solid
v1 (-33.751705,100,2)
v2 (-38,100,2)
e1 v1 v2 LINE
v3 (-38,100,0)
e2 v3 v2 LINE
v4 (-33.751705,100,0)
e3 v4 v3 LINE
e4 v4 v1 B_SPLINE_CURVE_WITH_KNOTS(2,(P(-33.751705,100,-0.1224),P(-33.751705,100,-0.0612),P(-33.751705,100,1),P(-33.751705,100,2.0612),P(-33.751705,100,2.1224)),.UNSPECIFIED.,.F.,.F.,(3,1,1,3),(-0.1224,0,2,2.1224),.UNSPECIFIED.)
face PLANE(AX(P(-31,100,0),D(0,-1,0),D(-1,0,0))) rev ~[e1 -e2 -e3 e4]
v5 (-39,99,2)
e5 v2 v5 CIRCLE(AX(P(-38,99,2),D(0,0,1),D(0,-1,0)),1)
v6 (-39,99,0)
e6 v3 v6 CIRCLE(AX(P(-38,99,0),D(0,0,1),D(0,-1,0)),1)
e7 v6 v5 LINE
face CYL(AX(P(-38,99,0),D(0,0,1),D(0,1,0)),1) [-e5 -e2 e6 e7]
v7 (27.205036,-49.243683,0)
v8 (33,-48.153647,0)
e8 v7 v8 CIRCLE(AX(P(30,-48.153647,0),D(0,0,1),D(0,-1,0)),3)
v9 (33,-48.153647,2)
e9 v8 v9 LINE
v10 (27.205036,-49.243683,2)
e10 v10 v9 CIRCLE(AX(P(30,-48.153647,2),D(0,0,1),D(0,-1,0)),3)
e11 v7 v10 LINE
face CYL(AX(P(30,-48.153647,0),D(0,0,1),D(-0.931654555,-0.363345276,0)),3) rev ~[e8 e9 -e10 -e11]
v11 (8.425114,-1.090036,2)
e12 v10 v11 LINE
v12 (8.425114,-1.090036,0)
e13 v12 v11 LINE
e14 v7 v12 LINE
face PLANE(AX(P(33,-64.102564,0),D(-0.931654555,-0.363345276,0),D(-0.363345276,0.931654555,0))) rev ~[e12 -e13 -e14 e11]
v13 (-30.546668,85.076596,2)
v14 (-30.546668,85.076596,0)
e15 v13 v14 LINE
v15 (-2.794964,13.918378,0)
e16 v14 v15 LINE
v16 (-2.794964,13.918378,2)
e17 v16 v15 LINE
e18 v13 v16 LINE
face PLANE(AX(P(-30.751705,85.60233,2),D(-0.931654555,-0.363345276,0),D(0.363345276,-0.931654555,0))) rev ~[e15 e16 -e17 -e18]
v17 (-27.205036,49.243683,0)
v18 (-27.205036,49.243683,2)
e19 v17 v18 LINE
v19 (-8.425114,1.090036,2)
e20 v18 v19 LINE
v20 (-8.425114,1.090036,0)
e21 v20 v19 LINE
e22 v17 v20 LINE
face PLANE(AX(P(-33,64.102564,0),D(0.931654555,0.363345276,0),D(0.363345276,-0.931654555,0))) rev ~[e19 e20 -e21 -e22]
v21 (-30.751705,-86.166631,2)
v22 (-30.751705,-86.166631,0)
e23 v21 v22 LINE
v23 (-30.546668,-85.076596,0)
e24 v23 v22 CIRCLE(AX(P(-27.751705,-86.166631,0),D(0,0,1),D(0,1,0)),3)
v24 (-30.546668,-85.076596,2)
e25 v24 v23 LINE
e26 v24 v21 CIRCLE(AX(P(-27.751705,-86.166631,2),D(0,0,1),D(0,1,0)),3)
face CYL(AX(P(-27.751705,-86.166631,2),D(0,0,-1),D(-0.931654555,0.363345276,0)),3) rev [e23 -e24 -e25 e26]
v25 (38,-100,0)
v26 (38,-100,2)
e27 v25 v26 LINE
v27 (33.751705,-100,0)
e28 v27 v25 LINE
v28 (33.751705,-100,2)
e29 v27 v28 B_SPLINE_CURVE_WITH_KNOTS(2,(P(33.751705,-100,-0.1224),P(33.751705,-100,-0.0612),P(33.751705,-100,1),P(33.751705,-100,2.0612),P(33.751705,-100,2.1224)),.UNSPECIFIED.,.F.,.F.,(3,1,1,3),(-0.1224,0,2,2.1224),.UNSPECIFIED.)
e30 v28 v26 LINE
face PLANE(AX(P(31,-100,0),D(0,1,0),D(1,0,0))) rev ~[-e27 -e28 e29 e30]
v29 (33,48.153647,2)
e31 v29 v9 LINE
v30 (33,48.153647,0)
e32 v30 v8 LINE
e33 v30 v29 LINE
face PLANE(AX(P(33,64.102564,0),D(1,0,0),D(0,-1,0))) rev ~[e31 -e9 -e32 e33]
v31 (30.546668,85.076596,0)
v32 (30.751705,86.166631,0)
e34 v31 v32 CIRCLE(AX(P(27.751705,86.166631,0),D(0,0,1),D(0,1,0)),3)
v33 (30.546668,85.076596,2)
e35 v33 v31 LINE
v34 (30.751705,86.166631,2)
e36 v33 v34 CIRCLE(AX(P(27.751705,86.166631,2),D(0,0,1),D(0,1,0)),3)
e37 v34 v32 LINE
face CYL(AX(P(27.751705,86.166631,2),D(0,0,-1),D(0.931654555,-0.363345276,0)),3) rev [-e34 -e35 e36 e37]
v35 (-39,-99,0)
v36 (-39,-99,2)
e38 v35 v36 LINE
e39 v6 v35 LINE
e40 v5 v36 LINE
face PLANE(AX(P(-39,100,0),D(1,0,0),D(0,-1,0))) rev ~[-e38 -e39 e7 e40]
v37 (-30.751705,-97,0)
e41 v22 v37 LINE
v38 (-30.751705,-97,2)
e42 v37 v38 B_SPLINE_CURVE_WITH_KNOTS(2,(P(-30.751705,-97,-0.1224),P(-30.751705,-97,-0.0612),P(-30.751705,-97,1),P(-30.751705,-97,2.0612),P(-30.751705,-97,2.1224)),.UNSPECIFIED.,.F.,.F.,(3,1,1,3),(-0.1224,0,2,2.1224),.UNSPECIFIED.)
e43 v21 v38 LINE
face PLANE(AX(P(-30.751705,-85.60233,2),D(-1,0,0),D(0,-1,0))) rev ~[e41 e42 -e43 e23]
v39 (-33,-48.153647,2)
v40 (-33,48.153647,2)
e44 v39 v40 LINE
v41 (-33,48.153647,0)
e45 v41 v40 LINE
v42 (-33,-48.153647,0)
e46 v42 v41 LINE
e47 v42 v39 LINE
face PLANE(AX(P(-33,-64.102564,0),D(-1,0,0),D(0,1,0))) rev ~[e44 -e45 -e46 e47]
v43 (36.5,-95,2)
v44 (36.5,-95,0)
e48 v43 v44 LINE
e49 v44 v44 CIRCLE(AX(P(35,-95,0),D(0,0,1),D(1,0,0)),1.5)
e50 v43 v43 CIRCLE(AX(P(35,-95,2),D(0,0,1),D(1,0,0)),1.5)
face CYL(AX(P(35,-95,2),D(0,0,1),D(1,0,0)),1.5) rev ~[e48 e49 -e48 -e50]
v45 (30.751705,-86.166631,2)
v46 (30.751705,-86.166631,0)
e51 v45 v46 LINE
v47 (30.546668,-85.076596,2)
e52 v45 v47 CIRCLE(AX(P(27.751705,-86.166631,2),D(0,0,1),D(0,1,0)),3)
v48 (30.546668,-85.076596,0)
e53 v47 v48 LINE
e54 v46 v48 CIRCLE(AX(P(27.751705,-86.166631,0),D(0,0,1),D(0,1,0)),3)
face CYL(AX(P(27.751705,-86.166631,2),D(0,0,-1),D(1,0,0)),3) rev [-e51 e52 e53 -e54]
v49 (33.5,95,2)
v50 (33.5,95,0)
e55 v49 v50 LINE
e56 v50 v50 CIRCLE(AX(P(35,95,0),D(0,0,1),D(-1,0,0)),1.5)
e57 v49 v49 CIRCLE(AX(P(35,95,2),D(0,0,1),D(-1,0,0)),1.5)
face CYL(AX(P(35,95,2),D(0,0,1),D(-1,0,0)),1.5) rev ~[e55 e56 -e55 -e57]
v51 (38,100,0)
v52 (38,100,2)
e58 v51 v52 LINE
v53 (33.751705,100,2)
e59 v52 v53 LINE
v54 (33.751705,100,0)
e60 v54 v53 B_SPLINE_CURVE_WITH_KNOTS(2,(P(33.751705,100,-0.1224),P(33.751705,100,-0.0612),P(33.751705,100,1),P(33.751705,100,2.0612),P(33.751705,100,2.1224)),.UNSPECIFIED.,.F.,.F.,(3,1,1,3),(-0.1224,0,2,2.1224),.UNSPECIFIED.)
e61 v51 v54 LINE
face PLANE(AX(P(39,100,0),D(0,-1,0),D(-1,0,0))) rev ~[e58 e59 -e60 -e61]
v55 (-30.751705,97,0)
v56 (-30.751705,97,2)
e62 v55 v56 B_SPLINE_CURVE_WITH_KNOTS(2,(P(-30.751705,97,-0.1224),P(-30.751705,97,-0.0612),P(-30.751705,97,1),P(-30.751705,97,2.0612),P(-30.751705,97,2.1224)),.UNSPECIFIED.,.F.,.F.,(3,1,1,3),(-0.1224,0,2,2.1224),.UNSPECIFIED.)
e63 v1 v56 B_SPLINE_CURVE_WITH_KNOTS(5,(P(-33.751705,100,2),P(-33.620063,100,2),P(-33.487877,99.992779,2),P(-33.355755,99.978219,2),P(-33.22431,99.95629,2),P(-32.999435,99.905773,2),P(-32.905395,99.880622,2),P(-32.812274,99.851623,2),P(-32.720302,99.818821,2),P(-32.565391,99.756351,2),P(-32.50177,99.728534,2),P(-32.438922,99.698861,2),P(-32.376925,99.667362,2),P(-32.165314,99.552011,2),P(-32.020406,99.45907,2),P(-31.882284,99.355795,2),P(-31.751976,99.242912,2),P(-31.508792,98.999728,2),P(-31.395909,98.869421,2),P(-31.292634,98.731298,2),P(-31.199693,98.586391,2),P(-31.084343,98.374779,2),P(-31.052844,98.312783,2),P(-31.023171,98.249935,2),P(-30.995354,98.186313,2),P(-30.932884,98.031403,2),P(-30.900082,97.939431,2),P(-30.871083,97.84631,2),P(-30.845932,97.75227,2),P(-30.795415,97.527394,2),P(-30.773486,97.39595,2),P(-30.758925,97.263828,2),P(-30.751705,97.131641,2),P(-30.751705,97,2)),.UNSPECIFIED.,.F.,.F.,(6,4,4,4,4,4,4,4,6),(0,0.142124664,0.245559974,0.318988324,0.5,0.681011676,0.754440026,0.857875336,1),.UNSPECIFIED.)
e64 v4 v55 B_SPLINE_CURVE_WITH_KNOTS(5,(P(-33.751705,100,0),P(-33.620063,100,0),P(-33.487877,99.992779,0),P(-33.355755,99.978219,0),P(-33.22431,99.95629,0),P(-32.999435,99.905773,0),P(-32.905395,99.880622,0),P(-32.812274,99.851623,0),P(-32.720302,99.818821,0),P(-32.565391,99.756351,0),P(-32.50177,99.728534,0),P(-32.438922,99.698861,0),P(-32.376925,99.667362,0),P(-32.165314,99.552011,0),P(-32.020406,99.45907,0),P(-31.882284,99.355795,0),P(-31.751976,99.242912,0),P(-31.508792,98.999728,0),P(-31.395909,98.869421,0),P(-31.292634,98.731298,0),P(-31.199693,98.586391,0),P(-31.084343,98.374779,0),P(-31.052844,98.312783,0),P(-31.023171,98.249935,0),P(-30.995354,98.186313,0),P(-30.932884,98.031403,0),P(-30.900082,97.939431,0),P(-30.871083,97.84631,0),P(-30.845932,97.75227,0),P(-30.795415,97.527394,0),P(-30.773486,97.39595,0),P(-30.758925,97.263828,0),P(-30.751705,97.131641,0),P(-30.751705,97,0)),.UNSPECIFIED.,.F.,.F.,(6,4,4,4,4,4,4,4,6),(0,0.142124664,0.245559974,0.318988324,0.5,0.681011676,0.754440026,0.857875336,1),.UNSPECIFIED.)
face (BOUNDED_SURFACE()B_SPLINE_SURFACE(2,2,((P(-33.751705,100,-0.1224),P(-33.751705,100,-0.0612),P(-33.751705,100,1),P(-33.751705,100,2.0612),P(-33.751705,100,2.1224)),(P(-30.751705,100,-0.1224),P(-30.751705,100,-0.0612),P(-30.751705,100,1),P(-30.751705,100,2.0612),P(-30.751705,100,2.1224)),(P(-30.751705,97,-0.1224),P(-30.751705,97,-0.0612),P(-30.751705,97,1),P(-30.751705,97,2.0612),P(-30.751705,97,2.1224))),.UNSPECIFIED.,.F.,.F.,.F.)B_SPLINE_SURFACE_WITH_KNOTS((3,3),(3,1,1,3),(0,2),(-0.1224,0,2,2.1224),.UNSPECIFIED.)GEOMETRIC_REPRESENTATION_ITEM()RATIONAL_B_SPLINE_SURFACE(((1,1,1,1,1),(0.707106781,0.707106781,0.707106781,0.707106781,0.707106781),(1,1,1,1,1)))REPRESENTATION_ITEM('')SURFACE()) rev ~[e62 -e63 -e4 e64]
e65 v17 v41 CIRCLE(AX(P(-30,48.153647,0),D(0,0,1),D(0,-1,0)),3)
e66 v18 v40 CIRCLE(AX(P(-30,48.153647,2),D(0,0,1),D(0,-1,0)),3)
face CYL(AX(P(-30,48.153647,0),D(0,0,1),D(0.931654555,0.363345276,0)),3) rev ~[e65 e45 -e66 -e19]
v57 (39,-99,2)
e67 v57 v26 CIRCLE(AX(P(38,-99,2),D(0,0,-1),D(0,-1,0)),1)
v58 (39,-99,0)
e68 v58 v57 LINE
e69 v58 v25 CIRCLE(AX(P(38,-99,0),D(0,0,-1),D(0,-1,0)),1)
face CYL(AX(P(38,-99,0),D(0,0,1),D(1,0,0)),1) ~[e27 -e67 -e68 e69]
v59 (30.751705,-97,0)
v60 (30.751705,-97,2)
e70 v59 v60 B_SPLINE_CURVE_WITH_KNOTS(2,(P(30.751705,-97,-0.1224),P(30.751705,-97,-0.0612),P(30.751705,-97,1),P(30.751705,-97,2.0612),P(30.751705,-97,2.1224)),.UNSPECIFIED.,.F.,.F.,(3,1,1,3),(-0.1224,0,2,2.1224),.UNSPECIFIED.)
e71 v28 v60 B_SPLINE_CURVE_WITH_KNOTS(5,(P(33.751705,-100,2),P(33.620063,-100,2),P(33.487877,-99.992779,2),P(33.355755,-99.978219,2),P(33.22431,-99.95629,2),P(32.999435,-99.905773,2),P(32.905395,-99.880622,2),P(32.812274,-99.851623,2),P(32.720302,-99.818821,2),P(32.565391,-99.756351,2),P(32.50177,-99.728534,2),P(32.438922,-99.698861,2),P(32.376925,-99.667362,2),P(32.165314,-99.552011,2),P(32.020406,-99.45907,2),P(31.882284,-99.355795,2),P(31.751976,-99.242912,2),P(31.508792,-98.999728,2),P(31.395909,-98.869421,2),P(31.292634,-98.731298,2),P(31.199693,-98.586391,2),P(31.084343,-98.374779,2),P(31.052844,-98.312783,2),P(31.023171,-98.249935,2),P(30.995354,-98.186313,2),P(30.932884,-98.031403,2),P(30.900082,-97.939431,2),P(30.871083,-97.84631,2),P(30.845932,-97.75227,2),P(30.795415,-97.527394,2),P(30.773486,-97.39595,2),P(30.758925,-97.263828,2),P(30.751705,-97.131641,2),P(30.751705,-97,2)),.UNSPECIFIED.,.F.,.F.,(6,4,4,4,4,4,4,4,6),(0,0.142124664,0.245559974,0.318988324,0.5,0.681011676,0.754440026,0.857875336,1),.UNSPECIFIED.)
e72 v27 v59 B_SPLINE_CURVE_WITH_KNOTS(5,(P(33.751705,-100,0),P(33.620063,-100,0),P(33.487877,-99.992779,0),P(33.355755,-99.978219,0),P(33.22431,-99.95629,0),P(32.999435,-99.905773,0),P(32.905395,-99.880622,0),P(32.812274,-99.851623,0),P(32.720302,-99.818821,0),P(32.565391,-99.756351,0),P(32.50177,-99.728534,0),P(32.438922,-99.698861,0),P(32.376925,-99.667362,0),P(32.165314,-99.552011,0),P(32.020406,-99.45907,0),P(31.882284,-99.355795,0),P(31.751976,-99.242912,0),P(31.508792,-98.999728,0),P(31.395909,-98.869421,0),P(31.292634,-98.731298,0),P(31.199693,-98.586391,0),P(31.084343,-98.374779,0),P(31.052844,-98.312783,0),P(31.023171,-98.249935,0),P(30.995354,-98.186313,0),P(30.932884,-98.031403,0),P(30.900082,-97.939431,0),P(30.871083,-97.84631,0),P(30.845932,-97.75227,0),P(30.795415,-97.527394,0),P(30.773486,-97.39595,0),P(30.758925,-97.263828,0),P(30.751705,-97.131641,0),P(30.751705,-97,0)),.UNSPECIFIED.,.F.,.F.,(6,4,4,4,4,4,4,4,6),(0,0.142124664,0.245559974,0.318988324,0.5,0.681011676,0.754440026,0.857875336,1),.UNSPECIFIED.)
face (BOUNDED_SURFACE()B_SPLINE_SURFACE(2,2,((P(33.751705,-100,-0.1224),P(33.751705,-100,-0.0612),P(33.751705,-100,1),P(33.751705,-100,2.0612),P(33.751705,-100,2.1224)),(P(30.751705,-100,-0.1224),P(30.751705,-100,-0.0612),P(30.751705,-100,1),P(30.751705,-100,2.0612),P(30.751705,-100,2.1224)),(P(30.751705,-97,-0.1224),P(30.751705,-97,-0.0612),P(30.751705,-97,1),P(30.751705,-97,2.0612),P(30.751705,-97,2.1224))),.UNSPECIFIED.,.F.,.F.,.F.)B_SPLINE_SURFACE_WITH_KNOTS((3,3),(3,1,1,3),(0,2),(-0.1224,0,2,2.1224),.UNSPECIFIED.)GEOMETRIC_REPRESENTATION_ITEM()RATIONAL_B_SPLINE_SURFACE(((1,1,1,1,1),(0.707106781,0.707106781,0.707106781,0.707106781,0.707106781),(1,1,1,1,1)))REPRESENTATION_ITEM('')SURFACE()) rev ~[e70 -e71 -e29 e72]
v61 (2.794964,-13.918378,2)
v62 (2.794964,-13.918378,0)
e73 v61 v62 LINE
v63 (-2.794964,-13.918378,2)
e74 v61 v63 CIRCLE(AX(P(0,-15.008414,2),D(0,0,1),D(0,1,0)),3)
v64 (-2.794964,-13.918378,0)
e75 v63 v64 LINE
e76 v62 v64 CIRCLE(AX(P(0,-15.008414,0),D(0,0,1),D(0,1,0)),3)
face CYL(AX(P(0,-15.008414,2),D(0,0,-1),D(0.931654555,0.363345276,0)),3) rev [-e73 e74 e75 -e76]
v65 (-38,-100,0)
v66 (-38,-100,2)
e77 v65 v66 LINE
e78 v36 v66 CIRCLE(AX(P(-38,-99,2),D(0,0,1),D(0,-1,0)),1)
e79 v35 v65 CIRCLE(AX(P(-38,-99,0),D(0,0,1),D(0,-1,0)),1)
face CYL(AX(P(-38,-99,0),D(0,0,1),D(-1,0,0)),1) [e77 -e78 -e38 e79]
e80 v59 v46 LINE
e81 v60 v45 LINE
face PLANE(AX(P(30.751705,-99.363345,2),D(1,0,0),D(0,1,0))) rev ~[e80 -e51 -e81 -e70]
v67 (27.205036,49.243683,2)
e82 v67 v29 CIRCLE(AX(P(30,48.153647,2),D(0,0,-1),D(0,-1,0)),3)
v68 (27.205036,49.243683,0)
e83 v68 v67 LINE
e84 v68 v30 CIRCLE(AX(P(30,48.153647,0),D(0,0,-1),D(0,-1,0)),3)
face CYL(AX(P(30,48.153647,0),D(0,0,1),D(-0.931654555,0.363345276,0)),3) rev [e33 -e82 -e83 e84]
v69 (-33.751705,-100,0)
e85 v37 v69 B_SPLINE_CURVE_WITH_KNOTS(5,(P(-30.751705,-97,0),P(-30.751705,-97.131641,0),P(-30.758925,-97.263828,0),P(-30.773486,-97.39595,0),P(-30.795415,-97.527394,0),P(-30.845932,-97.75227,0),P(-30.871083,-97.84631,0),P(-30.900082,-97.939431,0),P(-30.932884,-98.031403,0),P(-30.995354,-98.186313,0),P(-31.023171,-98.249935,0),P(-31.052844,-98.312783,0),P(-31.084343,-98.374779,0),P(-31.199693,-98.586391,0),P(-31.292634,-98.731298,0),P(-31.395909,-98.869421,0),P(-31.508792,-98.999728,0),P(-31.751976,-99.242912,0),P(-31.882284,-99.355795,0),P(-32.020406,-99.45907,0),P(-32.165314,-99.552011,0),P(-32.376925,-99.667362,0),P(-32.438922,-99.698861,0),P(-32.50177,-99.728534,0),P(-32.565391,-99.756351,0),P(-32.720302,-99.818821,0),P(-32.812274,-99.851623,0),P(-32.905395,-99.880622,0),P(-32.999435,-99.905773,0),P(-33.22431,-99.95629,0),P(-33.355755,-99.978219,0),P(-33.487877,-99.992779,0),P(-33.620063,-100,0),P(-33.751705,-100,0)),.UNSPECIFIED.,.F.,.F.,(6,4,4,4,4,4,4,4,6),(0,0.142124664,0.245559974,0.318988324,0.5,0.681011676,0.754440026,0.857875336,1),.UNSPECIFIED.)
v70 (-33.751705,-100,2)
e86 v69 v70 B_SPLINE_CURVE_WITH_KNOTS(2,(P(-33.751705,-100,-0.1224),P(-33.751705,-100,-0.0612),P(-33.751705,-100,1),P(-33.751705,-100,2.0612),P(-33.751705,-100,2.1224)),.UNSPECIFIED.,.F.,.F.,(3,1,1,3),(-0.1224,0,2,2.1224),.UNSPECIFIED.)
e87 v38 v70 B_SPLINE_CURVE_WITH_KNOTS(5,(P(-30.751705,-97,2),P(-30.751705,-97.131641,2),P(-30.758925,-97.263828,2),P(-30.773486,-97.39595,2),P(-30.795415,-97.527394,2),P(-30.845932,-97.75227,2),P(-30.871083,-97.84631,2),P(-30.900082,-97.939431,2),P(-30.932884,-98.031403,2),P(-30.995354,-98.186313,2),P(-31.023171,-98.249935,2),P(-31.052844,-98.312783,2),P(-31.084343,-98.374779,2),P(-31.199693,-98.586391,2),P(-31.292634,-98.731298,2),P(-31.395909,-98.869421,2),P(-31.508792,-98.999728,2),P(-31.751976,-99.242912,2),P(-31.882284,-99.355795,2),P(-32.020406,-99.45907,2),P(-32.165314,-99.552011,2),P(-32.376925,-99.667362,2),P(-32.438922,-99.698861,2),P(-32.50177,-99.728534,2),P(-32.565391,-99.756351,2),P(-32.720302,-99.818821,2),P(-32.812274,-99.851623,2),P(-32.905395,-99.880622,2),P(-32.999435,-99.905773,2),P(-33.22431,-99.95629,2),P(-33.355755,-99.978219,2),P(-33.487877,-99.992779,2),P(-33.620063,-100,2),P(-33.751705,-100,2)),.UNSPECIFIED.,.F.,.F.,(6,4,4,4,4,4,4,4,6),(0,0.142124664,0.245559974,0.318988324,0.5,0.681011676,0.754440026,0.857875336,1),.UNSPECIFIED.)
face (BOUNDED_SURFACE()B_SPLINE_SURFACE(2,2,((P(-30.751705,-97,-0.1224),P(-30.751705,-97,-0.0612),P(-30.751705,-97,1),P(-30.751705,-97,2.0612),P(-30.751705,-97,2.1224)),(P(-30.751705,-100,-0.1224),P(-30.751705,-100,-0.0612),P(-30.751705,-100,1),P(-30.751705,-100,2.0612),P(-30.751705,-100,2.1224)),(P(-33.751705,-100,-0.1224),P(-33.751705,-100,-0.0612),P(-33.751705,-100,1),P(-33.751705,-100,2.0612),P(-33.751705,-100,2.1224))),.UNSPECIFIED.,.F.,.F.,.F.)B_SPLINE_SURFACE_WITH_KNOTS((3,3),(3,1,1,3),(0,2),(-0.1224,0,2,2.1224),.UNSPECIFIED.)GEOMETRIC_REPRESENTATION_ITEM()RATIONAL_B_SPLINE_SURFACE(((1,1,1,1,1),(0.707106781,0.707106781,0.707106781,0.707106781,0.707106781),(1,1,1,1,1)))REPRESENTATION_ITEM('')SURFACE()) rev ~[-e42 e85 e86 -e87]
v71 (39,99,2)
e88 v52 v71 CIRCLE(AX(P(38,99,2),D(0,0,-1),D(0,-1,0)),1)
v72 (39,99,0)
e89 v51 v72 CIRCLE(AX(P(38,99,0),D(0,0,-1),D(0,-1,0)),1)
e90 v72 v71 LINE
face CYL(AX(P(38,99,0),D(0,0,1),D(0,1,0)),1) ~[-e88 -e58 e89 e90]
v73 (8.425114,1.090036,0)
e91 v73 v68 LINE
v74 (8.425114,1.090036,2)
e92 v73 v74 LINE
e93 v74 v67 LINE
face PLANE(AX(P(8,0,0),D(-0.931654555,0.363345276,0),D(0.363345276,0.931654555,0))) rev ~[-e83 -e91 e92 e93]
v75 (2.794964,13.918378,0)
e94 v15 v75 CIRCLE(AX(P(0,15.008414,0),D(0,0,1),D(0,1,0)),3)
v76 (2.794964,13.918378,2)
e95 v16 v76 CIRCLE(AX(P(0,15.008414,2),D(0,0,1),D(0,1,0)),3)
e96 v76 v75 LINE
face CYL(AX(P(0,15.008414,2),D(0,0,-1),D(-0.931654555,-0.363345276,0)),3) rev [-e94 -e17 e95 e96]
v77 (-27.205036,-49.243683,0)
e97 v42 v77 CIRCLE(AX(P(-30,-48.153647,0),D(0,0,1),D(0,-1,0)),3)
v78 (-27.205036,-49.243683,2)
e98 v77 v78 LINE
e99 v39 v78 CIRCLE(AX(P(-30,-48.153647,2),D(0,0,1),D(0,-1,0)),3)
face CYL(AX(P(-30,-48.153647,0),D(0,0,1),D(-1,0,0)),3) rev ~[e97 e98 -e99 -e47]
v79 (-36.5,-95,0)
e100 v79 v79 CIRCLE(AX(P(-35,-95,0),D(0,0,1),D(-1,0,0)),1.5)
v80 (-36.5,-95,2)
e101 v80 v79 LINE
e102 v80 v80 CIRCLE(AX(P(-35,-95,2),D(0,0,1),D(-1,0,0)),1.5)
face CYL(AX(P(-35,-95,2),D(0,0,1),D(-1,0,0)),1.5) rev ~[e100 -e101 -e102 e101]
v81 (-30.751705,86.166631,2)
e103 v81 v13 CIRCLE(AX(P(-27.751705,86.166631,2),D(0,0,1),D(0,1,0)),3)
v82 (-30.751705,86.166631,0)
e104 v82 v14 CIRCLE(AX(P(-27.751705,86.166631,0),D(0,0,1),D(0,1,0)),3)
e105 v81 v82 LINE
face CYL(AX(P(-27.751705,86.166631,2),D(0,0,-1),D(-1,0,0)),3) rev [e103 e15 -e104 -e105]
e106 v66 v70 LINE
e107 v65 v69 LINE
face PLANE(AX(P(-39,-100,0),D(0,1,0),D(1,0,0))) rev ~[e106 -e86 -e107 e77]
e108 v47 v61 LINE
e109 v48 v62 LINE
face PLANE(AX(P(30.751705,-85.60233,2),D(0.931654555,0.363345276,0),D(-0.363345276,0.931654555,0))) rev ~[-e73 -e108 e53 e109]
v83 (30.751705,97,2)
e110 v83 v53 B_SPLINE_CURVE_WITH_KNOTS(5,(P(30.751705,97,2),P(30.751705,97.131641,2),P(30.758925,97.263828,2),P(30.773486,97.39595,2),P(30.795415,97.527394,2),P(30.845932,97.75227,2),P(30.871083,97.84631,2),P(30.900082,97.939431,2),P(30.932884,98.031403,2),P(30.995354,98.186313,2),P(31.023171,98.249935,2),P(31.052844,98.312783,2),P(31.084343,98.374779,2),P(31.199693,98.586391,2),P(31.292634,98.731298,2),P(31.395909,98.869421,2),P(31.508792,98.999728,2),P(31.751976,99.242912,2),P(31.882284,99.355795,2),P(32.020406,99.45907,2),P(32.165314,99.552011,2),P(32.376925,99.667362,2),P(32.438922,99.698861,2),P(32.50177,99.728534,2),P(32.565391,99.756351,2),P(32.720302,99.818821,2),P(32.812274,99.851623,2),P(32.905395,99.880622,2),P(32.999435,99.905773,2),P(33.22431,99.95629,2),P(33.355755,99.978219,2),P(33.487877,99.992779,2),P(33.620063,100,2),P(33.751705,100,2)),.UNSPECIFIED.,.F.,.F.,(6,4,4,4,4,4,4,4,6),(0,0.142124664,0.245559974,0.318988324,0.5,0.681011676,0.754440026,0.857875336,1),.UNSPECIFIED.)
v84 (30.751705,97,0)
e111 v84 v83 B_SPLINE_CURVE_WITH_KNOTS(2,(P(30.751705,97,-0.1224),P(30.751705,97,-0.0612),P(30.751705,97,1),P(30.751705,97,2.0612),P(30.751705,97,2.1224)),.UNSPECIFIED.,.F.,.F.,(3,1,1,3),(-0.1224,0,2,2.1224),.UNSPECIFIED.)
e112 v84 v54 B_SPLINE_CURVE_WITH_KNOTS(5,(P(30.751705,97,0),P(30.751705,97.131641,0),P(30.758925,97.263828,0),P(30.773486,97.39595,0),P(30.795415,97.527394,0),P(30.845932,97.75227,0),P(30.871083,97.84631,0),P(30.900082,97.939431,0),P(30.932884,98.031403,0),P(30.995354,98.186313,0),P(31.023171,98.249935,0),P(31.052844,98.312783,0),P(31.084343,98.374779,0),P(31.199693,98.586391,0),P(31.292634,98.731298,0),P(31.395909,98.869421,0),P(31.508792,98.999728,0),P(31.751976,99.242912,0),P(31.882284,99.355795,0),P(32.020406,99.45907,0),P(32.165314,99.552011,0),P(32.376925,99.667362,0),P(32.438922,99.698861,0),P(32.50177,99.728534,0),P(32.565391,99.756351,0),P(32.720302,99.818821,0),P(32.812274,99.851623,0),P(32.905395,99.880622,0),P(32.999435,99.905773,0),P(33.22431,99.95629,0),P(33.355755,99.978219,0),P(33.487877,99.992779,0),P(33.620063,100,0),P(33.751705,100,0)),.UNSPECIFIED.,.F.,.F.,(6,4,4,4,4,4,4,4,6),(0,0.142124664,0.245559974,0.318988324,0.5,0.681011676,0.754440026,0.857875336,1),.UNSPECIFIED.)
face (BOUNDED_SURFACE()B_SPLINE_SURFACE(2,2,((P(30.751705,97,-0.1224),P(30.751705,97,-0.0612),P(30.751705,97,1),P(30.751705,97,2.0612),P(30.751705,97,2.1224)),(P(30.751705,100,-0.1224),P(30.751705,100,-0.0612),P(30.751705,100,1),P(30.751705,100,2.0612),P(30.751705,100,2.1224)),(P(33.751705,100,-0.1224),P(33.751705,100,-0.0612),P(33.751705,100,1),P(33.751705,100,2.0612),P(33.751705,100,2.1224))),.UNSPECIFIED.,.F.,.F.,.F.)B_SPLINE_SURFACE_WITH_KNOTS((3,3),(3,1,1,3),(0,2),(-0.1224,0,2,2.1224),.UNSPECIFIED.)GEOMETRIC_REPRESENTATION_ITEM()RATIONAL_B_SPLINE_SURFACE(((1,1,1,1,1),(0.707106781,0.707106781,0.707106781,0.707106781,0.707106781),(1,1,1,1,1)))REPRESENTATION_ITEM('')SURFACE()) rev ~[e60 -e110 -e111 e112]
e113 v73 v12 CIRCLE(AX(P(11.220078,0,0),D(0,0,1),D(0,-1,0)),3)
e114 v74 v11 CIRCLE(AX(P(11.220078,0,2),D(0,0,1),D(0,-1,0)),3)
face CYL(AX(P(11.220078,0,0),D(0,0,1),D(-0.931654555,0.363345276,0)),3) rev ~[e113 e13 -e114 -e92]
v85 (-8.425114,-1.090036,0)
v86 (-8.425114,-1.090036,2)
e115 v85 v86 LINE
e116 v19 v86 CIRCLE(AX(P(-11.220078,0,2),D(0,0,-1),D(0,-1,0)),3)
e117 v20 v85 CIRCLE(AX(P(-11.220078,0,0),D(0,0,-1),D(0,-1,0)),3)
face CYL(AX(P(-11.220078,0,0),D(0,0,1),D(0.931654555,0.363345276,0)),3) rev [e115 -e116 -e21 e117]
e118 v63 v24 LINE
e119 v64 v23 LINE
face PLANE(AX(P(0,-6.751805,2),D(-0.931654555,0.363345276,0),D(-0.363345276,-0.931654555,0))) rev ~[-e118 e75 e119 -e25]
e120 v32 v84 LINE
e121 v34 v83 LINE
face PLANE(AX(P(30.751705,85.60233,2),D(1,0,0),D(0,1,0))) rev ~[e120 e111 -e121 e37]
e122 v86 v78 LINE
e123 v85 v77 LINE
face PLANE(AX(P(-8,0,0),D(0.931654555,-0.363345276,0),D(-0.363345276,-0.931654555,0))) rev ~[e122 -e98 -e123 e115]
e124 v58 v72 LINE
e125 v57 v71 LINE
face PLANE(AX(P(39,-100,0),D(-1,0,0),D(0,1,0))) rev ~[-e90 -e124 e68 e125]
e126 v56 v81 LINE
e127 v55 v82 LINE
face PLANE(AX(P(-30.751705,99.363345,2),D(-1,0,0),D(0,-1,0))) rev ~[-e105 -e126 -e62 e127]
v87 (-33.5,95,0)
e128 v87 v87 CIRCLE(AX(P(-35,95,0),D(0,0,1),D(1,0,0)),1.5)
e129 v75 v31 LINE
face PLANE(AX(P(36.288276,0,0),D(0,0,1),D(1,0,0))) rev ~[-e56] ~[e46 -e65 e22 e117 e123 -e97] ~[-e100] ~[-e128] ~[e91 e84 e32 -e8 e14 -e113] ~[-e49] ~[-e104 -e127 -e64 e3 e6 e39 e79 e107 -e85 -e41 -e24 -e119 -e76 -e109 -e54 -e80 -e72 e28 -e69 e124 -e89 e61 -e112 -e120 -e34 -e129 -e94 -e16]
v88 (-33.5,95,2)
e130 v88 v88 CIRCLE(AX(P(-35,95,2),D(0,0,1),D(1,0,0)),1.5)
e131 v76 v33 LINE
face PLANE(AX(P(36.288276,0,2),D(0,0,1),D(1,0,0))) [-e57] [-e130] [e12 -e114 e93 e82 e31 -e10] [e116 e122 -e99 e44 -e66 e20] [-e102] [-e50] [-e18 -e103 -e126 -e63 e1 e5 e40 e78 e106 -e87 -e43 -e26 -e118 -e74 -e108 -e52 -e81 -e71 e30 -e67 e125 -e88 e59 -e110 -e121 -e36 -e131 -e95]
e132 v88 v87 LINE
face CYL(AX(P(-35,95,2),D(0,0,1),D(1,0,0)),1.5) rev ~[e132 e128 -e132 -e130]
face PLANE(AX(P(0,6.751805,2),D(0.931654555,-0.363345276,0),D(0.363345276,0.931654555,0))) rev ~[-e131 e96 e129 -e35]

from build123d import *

# Parameters (mm, degrees)
EXTRUDE_1_DEPTH     = 2
SKETCH_4_R          = 1.5
CUT_EXTRUDE_3_DEPTH = 108.354552768
FILLET_4_R          = 1
CUT_EXTRUDE_5_DEPTH = 108.354552768
FILLET_7_R          = 3


with BuildPart() as part:
    # 草图1 → 凸台-拉伸1 (new body)
    with BuildSketch(Plane.XY):
        Polygon((39, 79.487179487), (33, 64.102564103), (33, -64.102564103), (39, -79.487179487), align=None)
        Polygon((33, -64.102564103), (8, 0), (0, -20.512820513), (31, -100), (39, -100), (39, -79.487179487), align=None)
        Polygon((-31, -100), (0, -20.512820513), (-8, 0), (-33, -64.102564103), (-39, -79.487179487), (-39, -100), align=None)
        Polygon((-33, -64.102564103), (-33, 64.102564103), (-39, 79.487179487), (-39, -79.487179487), align=None)
        Polygon((0, -20.512820513), (8, 0), (0, 20.512820513), (-8, 0), align=None)
        Polygon((8, 0), (33, 64.102564103), (39, 79.487179487), (39, 100), (31, 100), (0, 20.512820513), align=None)
        Polygon((-8, 0), (0, 20.512820513), (-31, 100), (-39, 100), (-39, 79.487179487), (-33, 64.102564103), align=None)
    extrude(amount=EXTRUDE_1_DEPTH)

    # 草图4 → 切除-拉伸3 (cut, through all)
    with BuildSketch(Plane.XY.offset(2)):
        with Locations((-35, 95)):
            Circle(SKETCH_4_R)
        with Locations(Location((-35, -95, 0), (0, 0, 180))):
            Circle(SKETCH_4_R)
        with Locations((35, -95)):
            Circle(SKETCH_4_R)
        with Locations(Location((35, 95, 0), (0, 0, 180))):
            Circle(SKETCH_4_R)
    extrude(amount=-CUT_EXTRUDE_3_DEPTH, mode=Mode.SUBTRACT)

    # 圆角4
    fillet_4_edges = [part.edges().sort_by_distance(p)[0] for p in [
        (39, -100, 1),
        (31, -100, 1),
        (-31, -100, 1),
        (-39, -100, 1),
        (-39, 100, 1),
        (-31, 100, 1),
        (31, 100, 1),
        (39, 100, 1),
    ]]
    fillet(fillet_4_edges, radius=FILLET_4_R)

    # 草图6 → 切除-拉伸5 (cut, through all)
    with BuildSketch(Plane.XY.offset(2)):
        Polygon((-30.751704658, -85.602329726), (-30.751704658, -99.363345276), (0, -20.512820513), (30.751704658, -99.363345276), (30.751704658, -85.602329726), (0, -6.751804962), align=None)
        Polygon((30.751704658, 85.602329726), (30.751704658, 99.363345276), (0, 20.512820513), (-30.751704658, 99.363345276), (-30.751704658, 85.602329726), (0, 6.751804962), align=None)
    extrude(amount=-CUT_EXTRUDE_5_DEPTH, mode=Mode.SUBTRACT)

    # 圆角7
    fillet_7_edges = [part.edges().sort_by_distance(p)[0] for p in [
        (30.751704658, 85.602329726, 1),
        (0, 6.751804962, 1),
        (-30.751704658, 85.602329726, 1),
        (-30.751704658, 99.363345276, 1),
        (-30.751704658, -99.363345276, 1),
        (0, -6.751804962, 1),
        (30.751704658, -85.602329726, 1),
        (30.751704658, -99.363345276, 1),
        (30.751704658, 99.363345276, 1),
        (33, 64.102564103, 1),
        (33, -64.102564103, 1),
        (8, 0, 1),
        (-8, 0, 1),
        (-33, -64.102564103, 1),
        (-33, 64.102564103, 1),
        (-30.751704658, -85.602329726, 1),
    ]]
    fillet(fillet_7_edges, radius=FILLET_7_R)


solid = part.part
